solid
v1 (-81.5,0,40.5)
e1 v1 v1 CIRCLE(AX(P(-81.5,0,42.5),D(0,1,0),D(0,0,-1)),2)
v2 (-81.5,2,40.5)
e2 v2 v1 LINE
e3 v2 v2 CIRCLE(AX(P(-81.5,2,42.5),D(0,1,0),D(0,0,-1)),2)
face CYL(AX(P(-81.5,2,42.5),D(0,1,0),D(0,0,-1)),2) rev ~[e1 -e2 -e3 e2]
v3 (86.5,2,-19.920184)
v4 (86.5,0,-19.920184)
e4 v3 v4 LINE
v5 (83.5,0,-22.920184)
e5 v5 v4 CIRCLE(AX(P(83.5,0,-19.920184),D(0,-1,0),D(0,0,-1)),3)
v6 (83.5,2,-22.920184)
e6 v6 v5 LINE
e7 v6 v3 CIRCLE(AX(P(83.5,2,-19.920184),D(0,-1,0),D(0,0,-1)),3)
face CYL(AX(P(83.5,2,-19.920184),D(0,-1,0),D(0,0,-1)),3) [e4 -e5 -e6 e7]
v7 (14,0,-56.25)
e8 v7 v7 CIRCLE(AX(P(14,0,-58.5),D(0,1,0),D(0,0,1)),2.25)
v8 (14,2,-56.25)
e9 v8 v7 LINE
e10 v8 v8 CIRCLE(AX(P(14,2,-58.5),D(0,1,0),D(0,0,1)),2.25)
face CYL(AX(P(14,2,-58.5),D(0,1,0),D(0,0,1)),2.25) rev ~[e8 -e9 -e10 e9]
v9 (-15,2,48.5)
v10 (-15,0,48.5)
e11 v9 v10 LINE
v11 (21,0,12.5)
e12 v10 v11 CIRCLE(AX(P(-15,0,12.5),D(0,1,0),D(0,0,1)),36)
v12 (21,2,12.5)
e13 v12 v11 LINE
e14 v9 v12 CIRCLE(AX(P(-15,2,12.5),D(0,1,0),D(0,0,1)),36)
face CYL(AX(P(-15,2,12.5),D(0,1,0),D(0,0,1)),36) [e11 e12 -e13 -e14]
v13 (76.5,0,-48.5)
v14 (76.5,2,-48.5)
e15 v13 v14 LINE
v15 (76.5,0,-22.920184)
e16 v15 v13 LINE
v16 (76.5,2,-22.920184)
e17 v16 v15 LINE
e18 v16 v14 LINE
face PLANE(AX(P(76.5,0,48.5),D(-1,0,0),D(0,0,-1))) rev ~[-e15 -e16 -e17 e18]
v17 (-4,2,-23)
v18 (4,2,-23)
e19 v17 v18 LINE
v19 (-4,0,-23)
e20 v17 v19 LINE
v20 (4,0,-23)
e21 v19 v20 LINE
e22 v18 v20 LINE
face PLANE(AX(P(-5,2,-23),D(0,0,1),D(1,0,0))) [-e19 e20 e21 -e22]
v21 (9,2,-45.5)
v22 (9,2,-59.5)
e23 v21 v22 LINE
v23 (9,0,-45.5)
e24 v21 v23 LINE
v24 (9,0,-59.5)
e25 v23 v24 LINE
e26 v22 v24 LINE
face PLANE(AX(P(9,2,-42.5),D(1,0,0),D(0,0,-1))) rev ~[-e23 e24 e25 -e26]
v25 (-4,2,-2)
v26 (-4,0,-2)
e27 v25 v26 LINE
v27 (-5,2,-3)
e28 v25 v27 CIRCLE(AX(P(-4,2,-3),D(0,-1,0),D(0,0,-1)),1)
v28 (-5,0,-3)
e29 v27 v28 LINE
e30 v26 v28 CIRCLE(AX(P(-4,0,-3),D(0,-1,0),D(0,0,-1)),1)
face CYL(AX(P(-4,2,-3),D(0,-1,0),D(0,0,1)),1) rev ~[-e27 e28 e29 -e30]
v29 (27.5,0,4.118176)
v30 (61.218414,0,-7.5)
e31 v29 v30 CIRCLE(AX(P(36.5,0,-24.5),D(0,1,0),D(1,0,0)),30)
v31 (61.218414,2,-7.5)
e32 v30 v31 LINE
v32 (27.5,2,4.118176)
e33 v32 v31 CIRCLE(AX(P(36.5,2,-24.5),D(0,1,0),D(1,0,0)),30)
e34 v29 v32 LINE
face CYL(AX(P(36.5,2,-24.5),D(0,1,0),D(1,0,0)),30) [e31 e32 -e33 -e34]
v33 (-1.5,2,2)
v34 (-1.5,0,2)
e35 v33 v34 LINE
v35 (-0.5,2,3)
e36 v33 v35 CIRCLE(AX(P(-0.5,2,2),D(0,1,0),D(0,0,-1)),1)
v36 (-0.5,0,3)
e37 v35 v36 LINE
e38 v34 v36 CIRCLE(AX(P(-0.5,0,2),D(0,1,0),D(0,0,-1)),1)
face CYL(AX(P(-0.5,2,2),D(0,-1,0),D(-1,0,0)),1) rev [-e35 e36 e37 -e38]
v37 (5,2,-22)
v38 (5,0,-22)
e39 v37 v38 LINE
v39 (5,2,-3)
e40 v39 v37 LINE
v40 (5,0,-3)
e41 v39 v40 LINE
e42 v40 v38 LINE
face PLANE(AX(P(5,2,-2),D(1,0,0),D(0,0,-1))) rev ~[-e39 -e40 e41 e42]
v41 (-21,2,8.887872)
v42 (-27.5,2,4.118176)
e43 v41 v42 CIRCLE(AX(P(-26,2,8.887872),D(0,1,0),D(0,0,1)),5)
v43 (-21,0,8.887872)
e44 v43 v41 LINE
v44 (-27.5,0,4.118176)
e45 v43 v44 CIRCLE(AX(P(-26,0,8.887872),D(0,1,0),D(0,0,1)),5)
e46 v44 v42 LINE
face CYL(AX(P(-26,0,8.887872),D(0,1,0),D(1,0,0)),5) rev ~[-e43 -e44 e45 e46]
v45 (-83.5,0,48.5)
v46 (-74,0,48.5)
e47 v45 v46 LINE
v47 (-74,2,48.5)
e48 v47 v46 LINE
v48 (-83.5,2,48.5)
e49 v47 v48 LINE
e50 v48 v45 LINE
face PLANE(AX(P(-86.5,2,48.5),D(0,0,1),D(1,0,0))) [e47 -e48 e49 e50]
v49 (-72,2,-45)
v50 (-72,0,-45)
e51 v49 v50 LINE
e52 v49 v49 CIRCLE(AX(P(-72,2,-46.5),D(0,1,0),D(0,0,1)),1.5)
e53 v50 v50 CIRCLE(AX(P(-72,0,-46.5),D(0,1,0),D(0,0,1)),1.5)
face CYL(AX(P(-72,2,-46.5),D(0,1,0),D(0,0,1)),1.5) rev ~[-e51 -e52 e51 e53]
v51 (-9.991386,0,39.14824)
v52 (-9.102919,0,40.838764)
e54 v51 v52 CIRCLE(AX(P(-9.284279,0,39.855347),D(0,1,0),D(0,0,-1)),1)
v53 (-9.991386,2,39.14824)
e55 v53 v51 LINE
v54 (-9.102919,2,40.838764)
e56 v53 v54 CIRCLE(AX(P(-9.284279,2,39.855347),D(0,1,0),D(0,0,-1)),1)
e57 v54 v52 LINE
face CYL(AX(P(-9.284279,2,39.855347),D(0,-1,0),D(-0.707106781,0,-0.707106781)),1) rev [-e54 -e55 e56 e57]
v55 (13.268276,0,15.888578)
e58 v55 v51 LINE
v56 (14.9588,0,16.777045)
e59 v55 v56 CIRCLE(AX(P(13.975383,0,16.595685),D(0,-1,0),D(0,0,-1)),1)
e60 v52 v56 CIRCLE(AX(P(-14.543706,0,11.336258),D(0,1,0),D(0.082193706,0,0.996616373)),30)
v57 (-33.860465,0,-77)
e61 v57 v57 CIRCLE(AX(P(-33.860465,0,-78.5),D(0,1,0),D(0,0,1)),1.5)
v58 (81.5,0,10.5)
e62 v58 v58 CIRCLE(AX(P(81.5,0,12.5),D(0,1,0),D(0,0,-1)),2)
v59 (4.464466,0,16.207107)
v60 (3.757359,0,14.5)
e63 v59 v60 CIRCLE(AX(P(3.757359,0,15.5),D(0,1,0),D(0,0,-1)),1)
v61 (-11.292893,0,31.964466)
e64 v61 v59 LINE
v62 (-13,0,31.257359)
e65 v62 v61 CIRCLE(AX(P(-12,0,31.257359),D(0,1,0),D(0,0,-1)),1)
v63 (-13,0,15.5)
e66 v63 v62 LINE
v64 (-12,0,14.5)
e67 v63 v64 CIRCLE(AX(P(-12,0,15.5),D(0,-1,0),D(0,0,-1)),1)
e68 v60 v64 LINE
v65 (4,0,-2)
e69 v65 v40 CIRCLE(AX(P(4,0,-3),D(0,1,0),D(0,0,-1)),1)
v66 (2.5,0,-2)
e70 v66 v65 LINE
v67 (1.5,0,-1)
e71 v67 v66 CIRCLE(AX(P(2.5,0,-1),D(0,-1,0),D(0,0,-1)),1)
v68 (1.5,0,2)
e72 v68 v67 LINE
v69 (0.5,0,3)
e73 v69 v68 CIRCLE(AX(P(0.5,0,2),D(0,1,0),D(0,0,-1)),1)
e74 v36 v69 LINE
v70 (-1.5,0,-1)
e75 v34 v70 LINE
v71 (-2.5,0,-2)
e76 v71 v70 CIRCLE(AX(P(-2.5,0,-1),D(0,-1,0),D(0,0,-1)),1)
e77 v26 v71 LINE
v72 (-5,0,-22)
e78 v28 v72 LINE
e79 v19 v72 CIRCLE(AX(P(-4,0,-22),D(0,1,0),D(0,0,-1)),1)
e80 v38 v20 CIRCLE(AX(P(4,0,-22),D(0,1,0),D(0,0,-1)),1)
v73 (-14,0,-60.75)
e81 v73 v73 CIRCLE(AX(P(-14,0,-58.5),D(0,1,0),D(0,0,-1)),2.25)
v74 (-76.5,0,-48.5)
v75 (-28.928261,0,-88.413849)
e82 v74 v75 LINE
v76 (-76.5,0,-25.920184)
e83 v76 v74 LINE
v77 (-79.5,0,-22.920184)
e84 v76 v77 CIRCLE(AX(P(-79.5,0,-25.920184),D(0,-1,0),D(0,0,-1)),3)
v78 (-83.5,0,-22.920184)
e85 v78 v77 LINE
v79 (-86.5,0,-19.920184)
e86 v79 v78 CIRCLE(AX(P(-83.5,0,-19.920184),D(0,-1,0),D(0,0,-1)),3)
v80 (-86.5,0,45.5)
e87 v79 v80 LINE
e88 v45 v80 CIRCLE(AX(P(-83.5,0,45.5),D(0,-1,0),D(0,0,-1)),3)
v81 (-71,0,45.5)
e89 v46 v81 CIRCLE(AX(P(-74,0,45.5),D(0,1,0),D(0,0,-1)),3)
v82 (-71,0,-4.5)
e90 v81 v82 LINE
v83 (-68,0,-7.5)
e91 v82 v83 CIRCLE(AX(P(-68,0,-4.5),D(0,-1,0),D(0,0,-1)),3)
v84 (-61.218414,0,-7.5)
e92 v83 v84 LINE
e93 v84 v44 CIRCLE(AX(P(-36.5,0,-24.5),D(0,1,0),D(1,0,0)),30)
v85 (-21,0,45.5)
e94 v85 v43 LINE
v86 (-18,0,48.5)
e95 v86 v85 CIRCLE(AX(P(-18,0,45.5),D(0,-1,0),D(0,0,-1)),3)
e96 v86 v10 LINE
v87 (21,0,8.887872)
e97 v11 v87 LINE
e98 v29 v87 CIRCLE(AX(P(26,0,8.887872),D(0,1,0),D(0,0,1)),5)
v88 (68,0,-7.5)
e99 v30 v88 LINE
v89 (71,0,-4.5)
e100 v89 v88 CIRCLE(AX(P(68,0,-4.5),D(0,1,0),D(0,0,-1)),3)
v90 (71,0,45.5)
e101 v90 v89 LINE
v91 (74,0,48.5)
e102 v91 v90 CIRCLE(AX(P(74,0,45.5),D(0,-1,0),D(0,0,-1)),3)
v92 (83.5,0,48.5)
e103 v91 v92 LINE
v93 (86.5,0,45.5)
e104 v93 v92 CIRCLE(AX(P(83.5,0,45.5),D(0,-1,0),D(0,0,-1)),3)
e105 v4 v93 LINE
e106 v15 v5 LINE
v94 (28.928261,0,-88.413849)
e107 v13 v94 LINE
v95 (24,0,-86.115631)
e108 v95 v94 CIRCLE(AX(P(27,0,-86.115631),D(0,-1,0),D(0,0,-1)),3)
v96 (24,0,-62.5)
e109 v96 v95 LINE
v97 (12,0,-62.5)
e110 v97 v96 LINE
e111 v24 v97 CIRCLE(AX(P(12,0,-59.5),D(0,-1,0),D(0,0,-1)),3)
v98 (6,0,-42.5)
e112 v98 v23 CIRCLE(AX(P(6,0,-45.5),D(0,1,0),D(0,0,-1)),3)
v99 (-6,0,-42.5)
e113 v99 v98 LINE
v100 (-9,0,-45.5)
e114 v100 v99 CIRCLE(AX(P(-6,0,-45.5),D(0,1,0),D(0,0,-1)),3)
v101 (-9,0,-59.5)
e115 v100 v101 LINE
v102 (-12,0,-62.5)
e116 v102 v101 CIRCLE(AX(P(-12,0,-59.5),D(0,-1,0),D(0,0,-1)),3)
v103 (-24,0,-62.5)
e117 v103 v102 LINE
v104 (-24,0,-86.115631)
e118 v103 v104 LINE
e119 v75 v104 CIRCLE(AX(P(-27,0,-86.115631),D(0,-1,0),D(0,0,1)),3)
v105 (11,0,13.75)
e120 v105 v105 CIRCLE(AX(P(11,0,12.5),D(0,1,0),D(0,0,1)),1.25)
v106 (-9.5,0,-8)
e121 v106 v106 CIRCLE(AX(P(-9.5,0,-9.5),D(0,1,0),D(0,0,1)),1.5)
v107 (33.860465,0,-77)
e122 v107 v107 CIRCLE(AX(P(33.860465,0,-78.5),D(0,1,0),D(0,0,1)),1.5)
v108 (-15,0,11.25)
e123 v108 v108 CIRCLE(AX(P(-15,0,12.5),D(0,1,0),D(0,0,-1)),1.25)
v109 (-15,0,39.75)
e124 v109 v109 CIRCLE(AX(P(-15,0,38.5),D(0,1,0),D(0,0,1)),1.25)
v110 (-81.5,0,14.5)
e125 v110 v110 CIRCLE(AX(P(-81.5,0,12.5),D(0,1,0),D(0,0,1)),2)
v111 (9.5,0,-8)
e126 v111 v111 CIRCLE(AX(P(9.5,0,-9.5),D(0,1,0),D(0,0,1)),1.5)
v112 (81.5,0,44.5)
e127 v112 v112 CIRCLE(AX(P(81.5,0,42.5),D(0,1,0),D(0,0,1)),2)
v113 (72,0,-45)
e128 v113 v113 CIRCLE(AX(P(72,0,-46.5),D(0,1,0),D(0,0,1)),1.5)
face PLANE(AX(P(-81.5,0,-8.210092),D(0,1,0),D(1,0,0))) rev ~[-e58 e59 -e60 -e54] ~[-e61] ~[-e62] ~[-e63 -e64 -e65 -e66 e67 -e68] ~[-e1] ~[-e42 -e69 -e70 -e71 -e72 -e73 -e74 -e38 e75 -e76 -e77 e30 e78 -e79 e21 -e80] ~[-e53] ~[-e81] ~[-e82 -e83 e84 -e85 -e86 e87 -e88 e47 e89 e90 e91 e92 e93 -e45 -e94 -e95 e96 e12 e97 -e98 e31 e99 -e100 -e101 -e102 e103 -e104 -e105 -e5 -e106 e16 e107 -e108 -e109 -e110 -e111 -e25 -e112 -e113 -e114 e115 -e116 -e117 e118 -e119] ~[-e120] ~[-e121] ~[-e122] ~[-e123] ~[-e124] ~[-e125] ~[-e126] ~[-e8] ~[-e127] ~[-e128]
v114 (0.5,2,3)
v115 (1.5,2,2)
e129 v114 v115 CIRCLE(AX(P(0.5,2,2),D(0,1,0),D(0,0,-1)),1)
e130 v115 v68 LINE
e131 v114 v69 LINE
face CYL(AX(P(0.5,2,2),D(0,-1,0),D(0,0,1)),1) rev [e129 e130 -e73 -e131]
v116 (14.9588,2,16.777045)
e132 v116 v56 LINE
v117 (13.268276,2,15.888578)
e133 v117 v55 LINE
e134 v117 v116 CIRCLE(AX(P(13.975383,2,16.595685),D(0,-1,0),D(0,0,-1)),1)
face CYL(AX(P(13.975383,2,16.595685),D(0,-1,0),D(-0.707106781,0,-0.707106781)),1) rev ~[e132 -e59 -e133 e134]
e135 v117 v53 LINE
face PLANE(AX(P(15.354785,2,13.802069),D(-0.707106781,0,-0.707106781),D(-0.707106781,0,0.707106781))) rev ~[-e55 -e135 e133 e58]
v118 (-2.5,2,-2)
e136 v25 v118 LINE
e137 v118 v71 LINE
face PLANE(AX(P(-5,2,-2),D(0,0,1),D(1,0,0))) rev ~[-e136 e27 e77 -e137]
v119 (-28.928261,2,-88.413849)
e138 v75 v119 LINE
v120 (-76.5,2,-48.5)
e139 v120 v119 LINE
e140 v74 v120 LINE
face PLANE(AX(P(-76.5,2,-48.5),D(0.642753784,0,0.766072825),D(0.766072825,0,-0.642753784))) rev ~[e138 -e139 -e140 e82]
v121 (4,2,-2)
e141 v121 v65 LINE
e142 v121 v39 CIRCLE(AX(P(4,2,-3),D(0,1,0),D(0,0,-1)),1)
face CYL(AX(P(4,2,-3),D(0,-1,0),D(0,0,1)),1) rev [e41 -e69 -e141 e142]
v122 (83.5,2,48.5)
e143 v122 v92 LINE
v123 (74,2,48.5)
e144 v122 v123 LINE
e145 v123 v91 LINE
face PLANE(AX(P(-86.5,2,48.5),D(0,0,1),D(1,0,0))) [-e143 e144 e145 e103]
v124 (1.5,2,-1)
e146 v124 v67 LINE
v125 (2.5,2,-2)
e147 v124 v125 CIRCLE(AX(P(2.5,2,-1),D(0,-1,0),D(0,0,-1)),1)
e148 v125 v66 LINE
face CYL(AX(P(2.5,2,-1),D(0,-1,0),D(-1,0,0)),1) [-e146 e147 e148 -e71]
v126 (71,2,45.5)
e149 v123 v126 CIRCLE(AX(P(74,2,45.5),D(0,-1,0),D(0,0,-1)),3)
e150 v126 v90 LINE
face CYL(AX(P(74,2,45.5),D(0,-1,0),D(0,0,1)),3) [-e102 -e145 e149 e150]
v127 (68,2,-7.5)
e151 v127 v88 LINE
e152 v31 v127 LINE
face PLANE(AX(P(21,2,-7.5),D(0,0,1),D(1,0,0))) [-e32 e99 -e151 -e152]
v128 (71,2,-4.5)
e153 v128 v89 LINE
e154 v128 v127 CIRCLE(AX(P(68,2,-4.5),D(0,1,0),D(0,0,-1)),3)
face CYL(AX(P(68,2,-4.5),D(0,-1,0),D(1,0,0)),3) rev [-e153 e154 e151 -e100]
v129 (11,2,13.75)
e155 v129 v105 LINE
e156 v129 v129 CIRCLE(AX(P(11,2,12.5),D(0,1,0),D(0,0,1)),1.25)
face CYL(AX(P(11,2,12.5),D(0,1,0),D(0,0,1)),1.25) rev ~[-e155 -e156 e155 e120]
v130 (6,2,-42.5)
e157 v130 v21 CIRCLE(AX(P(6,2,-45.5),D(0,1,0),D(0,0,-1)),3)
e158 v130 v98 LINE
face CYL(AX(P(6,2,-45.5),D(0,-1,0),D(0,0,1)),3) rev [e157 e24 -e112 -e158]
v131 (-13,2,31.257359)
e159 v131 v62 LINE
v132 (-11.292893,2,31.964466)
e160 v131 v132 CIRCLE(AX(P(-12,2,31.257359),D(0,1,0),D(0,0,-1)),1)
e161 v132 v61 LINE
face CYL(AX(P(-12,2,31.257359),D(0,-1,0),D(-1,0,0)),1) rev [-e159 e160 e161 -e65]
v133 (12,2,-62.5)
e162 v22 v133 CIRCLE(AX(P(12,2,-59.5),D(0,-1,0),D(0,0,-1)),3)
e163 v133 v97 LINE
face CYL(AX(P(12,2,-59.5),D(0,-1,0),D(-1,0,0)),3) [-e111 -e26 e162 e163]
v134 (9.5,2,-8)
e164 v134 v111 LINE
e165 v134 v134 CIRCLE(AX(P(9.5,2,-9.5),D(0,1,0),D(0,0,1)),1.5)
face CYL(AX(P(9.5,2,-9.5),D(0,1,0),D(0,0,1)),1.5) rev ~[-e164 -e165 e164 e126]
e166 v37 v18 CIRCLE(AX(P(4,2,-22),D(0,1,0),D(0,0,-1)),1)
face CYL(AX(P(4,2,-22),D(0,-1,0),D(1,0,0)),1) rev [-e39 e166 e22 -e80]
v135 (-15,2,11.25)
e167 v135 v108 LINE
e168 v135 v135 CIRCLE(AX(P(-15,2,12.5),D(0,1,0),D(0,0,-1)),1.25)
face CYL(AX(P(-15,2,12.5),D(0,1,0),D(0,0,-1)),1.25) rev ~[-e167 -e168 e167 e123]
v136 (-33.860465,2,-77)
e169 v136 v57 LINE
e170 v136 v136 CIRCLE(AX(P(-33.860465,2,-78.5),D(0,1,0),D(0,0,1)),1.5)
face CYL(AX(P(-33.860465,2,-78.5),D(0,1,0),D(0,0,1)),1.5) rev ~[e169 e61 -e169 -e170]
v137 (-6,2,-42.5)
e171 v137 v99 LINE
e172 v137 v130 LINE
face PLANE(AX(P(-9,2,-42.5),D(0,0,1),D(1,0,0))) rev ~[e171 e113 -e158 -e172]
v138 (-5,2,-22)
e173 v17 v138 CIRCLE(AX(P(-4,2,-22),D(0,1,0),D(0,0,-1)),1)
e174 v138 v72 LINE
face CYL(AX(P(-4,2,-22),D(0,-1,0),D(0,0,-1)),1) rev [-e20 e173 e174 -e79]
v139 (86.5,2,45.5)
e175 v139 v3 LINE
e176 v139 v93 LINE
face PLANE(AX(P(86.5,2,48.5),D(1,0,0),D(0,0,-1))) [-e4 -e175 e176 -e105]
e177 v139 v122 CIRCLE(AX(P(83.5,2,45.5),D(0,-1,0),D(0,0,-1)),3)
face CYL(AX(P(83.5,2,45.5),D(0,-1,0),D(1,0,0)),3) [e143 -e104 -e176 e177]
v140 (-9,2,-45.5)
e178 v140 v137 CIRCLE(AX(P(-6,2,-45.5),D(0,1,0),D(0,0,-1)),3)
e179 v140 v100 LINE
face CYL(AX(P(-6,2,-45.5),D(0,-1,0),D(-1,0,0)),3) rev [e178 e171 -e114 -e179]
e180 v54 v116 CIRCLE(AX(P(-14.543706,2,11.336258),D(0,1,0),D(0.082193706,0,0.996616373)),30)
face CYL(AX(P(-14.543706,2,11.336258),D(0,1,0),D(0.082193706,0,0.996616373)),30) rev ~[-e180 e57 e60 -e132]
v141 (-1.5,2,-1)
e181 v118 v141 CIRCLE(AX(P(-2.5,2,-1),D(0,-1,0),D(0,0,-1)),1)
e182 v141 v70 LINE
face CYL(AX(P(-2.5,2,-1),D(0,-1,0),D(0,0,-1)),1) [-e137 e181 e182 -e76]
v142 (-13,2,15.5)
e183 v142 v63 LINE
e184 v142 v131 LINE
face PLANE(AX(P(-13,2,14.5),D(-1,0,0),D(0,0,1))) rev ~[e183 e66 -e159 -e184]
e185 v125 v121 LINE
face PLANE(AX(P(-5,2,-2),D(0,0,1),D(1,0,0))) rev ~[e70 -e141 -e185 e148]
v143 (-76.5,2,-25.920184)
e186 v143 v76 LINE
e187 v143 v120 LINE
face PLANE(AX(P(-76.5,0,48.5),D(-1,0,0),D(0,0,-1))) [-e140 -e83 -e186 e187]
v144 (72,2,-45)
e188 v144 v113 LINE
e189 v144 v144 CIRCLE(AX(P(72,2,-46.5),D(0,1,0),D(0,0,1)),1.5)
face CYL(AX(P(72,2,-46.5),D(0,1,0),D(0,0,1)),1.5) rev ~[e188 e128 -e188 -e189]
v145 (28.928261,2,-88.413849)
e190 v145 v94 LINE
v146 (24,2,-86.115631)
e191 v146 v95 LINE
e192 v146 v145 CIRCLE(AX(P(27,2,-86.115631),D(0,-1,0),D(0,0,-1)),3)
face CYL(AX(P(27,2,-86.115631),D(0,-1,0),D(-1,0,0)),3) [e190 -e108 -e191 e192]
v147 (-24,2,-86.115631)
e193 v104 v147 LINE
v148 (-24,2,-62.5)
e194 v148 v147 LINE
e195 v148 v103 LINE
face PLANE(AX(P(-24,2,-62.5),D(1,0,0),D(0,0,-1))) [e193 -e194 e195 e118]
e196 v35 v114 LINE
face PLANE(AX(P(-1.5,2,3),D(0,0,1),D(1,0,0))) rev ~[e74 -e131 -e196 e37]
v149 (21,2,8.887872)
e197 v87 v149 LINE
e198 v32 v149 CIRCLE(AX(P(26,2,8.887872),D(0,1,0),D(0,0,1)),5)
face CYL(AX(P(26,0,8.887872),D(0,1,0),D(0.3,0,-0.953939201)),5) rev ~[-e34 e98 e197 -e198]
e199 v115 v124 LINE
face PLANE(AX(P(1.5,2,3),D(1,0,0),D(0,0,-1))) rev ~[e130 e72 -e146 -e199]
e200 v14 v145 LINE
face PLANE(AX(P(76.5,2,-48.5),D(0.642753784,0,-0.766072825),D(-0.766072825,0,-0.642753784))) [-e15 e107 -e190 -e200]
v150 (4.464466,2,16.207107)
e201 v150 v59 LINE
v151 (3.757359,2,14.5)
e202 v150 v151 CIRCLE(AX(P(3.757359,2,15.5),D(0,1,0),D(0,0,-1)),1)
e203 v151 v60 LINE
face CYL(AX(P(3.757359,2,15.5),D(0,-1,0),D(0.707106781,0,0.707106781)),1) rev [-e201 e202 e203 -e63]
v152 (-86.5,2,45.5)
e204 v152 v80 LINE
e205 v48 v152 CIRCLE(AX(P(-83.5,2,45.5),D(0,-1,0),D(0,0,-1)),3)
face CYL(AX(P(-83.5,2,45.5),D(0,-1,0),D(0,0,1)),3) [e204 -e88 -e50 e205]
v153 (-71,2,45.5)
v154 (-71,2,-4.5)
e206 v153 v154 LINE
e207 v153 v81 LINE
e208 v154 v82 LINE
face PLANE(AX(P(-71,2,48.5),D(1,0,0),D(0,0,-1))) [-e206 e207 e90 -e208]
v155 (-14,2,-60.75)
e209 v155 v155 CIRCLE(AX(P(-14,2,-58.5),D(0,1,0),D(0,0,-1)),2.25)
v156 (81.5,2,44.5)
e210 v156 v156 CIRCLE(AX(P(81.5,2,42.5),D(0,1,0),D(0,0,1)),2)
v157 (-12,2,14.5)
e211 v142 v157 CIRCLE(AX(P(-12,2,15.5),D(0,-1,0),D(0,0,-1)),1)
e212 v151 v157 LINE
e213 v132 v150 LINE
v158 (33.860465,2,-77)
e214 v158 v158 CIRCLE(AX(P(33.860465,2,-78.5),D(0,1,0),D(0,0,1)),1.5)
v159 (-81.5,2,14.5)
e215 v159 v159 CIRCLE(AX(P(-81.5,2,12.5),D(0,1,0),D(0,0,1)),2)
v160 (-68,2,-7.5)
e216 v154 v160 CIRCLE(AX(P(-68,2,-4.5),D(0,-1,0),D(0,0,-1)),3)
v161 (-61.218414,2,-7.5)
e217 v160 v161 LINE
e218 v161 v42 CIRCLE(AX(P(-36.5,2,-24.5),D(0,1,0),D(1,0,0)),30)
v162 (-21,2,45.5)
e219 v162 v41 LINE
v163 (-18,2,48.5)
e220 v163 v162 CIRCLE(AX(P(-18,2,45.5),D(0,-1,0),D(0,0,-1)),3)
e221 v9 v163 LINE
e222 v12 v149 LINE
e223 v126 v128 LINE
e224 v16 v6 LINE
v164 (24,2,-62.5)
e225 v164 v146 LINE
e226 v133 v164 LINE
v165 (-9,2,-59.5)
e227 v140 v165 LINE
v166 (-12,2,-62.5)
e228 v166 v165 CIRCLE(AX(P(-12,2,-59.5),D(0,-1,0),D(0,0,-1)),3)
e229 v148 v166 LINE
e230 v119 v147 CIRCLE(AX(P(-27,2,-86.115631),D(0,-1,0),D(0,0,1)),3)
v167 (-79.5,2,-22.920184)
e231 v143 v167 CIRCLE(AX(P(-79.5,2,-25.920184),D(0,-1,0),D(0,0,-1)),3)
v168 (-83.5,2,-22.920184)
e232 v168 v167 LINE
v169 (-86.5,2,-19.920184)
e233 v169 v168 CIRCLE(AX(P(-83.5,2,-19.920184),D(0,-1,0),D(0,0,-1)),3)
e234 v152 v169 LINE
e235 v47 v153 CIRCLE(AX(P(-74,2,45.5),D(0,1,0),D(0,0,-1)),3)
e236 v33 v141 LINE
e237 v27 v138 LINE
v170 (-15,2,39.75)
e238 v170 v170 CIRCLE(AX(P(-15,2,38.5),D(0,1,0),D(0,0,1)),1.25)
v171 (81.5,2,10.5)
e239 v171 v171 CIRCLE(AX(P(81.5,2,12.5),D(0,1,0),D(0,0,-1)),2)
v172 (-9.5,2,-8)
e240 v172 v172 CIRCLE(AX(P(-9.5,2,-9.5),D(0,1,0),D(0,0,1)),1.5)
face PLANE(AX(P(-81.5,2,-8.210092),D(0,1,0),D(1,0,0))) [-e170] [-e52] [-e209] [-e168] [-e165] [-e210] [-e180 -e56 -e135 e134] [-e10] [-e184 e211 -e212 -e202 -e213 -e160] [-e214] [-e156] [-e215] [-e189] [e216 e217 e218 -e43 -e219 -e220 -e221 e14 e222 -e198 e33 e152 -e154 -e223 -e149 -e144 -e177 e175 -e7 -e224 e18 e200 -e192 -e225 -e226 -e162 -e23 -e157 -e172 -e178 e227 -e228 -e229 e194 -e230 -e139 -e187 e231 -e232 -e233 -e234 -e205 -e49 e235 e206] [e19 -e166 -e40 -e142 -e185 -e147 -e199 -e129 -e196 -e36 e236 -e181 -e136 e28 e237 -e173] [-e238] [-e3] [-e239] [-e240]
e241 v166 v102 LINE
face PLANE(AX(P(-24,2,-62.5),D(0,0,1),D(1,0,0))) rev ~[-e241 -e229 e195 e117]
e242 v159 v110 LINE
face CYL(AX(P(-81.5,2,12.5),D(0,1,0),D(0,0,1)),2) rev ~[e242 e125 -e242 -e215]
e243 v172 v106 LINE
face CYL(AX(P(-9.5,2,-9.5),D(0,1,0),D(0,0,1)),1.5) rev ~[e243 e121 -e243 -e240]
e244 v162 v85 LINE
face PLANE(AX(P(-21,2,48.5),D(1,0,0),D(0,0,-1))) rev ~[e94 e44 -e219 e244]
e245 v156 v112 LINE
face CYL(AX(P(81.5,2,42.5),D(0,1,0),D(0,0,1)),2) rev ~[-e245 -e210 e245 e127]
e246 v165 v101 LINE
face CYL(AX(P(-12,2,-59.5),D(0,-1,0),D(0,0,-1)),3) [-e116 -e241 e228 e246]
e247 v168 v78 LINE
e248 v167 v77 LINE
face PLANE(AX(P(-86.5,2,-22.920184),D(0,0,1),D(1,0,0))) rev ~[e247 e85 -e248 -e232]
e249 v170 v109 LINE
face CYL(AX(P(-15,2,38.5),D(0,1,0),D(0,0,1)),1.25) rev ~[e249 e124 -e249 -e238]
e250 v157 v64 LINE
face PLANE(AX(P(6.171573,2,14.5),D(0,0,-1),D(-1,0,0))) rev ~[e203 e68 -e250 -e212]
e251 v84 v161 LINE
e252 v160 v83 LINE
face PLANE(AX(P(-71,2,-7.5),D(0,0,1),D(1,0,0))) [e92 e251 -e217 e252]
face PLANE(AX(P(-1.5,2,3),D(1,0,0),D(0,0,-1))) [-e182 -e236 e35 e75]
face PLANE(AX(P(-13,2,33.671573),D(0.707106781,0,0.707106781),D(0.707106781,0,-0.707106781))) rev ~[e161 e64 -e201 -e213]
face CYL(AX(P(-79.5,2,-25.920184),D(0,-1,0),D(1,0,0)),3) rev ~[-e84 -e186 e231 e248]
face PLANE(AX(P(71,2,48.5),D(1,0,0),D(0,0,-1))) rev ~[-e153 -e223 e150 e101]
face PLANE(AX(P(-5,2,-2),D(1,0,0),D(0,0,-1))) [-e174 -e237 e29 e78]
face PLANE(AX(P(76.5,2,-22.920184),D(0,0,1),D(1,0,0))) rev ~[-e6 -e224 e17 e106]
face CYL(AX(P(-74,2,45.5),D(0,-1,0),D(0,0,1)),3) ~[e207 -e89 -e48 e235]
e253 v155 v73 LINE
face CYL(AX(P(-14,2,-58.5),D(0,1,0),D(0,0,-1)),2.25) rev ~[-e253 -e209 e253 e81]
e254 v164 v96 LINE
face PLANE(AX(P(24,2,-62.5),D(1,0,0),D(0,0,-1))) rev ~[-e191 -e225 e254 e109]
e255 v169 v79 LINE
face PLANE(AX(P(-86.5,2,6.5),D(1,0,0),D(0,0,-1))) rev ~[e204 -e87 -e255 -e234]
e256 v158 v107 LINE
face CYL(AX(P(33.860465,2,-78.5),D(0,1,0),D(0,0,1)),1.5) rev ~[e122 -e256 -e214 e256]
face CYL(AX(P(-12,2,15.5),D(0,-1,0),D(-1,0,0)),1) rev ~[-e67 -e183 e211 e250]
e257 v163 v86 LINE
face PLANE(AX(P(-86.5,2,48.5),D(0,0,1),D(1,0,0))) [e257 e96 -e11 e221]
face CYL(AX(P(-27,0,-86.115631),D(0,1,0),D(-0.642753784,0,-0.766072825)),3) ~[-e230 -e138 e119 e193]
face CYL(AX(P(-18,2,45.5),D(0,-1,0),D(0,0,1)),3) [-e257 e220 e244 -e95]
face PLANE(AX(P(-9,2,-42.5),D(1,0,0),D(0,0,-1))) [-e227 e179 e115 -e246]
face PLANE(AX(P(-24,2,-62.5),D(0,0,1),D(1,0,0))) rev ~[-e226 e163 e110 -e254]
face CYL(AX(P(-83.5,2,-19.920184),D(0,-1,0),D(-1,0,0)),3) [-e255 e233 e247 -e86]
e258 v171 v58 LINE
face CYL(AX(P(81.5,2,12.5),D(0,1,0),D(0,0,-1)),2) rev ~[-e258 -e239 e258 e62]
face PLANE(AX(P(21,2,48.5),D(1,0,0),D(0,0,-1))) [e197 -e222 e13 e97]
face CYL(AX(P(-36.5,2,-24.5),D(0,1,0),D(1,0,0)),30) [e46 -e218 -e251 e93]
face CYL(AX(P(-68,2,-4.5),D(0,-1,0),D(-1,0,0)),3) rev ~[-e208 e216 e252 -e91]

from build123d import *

# Parameters (mm, degrees)
SKETCH_1_W           = 153
SKETCH_1_H           = 97
EXTRUDE_1_DEPTH      = 2
SKETCH_2_W           = 30
SKETCH_2_H           = 56
EXTRUDE_2_DEPTH      = 2
EXTRUDE_3_DEPTH      = 2
SKETCH_4_W           = 10
SKETCH_4_H           = 42
SKETCH_4_R           = 2
EXTRUDE_4_DEPTH      = 2
SKETCH_6_R           = 2.25
CUT_EXTRUDE_1_DEPTH  = 2
SKETCH_7_W           = 50
SKETCH_7_H           = 56
CUT_EXTRUDE_2_DEPTH  = 2
SKETCH_8_W           = 48
SKETCH_8_H           = 62.484205033
CUT_EXTRUDE_3_DEPTH  = 2
FILLET_3_R           = 3
SKETCH_9_W           = 10
SKETCH_9_H           = 29.42018392
EXTRUDE_5_DEPTH      = 2
FILLET_4_R           = 3
SKETCH_10_W          = 18
SKETCH_10_H          = 20
CUT_EXTRUDE_4_DEPTH  = 2
FILLET_5_R           = 3
SKETCH_11_R          = 30
EXTRUDE_6_DEPTH      = 2
FILLET_6_R           = 3
SKETCH_12_R          = 1.25
CUT_EXTRUDE_5_DEPTH  = 2
SKETCH_13_R          = 1.5
CUT_EXTRUDE_6_DEPTH  = 10
SKETCH_14_R          = 1.5
CUT_EXTRUDE_7_DEPTH  = 10
CUT_EXTRUDE_8_DEPTH  = 10
FILLET_7_R           = 5
SKETCH_16_R          = 1.5
CUT_EXTRUDE_9_DEPTH  = 10
SKETCH_17_W          = 10
SKETCH_17_H          = 21
CUT_EXTRUDE_10_DEPTH = 10
FILLET_8_R           = 1
SKETCH_18_W          = 3
SKETCH_18_H          = 5
CUT_EXTRUDE_11_DEPTH = 10
FILLET_9_R           = 1
CUT_EXTRUDE_12_DEPTH = 2
FILLET_10_R          = 1
CUT_EXTRUDE_13_DEPTH = 2
FILLET_11_R          = 1


with BuildPart() as part:
    # 草图1 → 凸台-拉伸1 (new body)
    with BuildSketch(Plane(origin=(0, 0, 0), x_dir=(1, 0, 0), z_dir=(0, 1, 0))):
        Rectangle(SKETCH_1_W, SKETCH_1_H)
    extrude(amount=EXTRUDE_1_DEPTH)

    # 草图2 → 凸台-拉伸2 (add)
    with BuildSketch(Plane(origin=(0, 0, 0), x_dir=(1, 0, 0), z_dir=(0, 1, 0))):
        with Locations((0, 76.5)):
            Rectangle(SKETCH_2_W, SKETCH_2_H)
    extrude(amount=EXTRUDE_2_DEPTH)

    # 草图3 → 凸台-拉伸3 (add)
    with BuildSketch(Plane(origin=(0, 2, 0), x_dir=(1, 0, 0), z_dir=(0, 1, 0))):
        Polygon((-76.5, 48.5), (-15, 100.1), (-15, 48.5), align=None)
        Polygon((15, 100.1), (15, 48.5), (76.5, 48.5), align=None)
    extrude(amount=-EXTRUDE_3_DEPTH)

    # 草图4 → 凸台-拉伸4 (add)
    # profile 1 of 2: a face of its own
    with BuildSketch(Plane(origin=(0, 2, 0), x_dir=(1, 0, 0), z_dir=(0, 1, 0))):
        with Locations((-81.5, -27.5)):
            Rectangle(SKETCH_4_W, SKETCH_4_H)
        with Locations(Location((-81.5, -12.5, 0), (0, 0, 270))):
            Circle(SKETCH_4_R, mode=Mode.SUBTRACT)
        with Locations(Location((-81.5, -42.5, 0), (0, 0, 90))):
            Circle(SKETCH_4_R, mode=Mode.SUBTRACT)
    # profile 2 of 2: a face of its own
    with BuildSketch(Plane(origin=(0, 2, 0), x_dir=(1, 0, 0), z_dir=(0, 1, 0))):
        with Locations((81.5, -27.5)):
            Rectangle(SKETCH_4_W, SKETCH_4_H)
        with Locations(Location((81.5, -42.5, 0), (0, 0, 270))):
            Circle(SKETCH_4_R, mode=Mode.SUBTRACT)
        with Locations(Location((81.5, -12.5, 0), (0, 0, 90))):
            Circle(SKETCH_4_R, mode=Mode.SUBTRACT)
    extrude(amount=-EXTRUDE_4_DEPTH)

    # 草图6 → 切除-拉伸1 (cut)
    with BuildSketch(Plane(origin=(0, 2, 0), x_dir=(1, 0, 0), z_dir=(0, 1, 0))):
        with Locations(Location((14, 58.5, 0), (0, 0, 270))):
            Circle(SKETCH_6_R)
        with Locations(Location((-14, 58.5, 0), (0, 0, 90))):
            Circle(SKETCH_6_R)
    extrude(amount=-CUT_EXTRUDE_1_DEPTH, mode=Mode.SUBTRACT)

    # 草图7 → 切除-拉伸2 (cut)
    with BuildSketch(Plane(origin=(0, 2, 0), x_dir=(1, 0, 0), z_dir=(0, 1, 0))):
        with Locations((-46, -20.5)):
            Rectangle(SKETCH_7_W, SKETCH_7_H)
        with Locations((46, -20.5)):
            Rectangle(SKETCH_7_W, SKETCH_7_H)
    extrude(amount=-CUT_EXTRUDE_2_DEPTH, mode=Mode.SUBTRACT)

    # 草图8 → 切除-拉伸3 (cut)
    with BuildSketch(Plane(origin=(0, 2, 0), x_dir=(1, 0, 0), z_dir=(0, 1, 0))):
        with Locations((0, 93.742102517)):
            Rectangle(SKETCH_8_W, SKETCH_8_H)
    extrude(amount=-CUT_EXTRUDE_3_DEPTH, mode=Mode.SUBTRACT)

    # 圆角3
    fillet_3_edges = [part.edges().sort_by_distance(p)[0] for p in [
        (-21, 1, -7.5),
        (-21, 1, 48.5),
        (-71, 1, 48.5),
        (-71, 1, -7.5),
        (21, 1, -7.5),
        (71, 1, -7.5),
        (71, 1, 48.5),
        (21, 1, 48.5),
    ]]
    fillet(fillet_3_edges, radius=FILLET_3_R)

    # 草图9 → 凸台-拉伸5 (add)
    with BuildSketch(Plane(origin=(0, 2, 0), x_dir=(1, 0, 0), z_dir=(0, 1, 0))):
        with Locations((-81.5, 8.21009196)):
            Rectangle(SKETCH_9_W, SKETCH_9_H)
        with Locations((81.5, 8.21009196)):
            Rectangle(SKETCH_9_W, SKETCH_9_H)
    extrude(amount=-EXTRUDE_5_DEPTH)

    # 圆角4
    fillet_4_edges = [part.edges().sort_by_distance(p)[0] for p in [
        (-86.5, 1, -22.92018392),
        (-76.5, 1, -22.92018392),
    ]]
    fillet(fillet_4_edges, radius=FILLET_4_R)

    # 草图10 → 切除-拉伸4 (cut)
    with BuildSketch(Plane(origin=(0, 2, 0), x_dir=(1, 0, 0), z_dir=(0, 1, 0))):
        with Locations((0, 52.5)):
            Rectangle(SKETCH_10_W, SKETCH_10_H)
    extrude(amount=-CUT_EXTRUDE_4_DEPTH, mode=Mode.SUBTRACT)

    # 圆角5
    fillet_5_edges = [part.edges().sort_by_distance(p)[0] for p in [
        (24, 1, -92.548780488),
        (-24, 1, -92.548780488),
        (9, 1, -62.5),
        (9, 1, -42.5),
        (-9, 1, -42.5),
        (-9, 1, -62.5),
    ]]
    fillet(fillet_5_edges, radius=FILLET_5_R)

    # 草图11 → 凸台-拉伸6 (add)
    with BuildSketch(Plane(origin=(0, 2, 0), x_dir=(1, 0, 0), z_dir=(0, 1, 0))):
        with Locations((-36.5, 24.5)):
            Circle(SKETCH_11_R)
        with Locations((36.5, 24.5)):
            Circle(SKETCH_11_R)
    extrude(amount=-EXTRUDE_6_DEPTH)

    # 圆角6
    fillet_6_edges = [part.edges().sort_by_distance(p)[0] for p in [
        (86.5, 1, -22.92018392),
        (-86.5, 1, 48.5),
        (86.5, 1, 48.5),
    ]]
    fillet(fillet_6_edges, radius=FILLET_6_R)

    # 草图12 → 切除-拉伸5 (cut)
    with BuildSketch(Plane(origin=(0, 2, 0), x_dir=(1, 0, 0), z_dir=(0, 1, 0))):
        with Locations(Location((11, -12.5, 0), (0, 0, 270))):
            Circle(SKETCH_12_R)
        with Locations(Location((-15, -12.5, 0), (0, 0, 90))):
            Circle(SKETCH_12_R)
        with Locations(Location((-15, -38.5, 0), (0, 0, 270))):
            Circle(SKETCH_12_R)
    extrude(amount=-CUT_EXTRUDE_5_DEPTH, mode=Mode.SUBTRACT)

    # 草图13 → 切除-拉伸6 (cut)
    with BuildSketch(Plane(origin=(0, 2, 0), x_dir=(1, 0, 0), z_dir=(0, 1, 0))):
        with Locations(Location((-72, 46.5, 0), (0, 0, 270))):
            Circle(SKETCH_13_R)
        with Locations(Location((72, 46.5, 0), (0, 0, 270))):
            Circle(SKETCH_13_R)
    extrude(amount=-CUT_EXTRUDE_6_DEPTH, mode=Mode.SUBTRACT)

    # 草图14 → 切除-拉伸7 (cut)
    with BuildSketch(Plane(origin=(0, 2, 0), x_dir=(1, 0, 0), z_dir=(0, 1, 0))):
        with Locations(Location((-33.860465116, 78.5, 0), (0, 0, 270))):
            Circle(SKETCH_14_R)
        with Locations(Location((33.860465116, 78.5, 0), (0, 0, 270))):
            Circle(SKETCH_14_R)
    extrude(amount=-CUT_EXTRUDE_7_DEPTH, mode=Mode.SUBTRACT)

    # 草图15 → 切除-拉伸8 (cut)
    with BuildSketch(Plane(origin=(0, 2, 0), x_dir=(1, 0, 0), z_dir=(0, 1, 0))):
        with BuildLine():
            Line((21, -12.5), (21, -48.5))
            Line((21, -48.5), (-15, -48.5))
            ThreePointArc((-15, -48.5), (10.455844123, -37.955844123), (21, -12.5))
        make_face()
    extrude(amount=-CUT_EXTRUDE_8_DEPTH, mode=Mode.SUBTRACT)

    # 圆角7
    fillet_7_edges = [part.edges().sort_by_distance(p)[0] for p in [
        (-21, 1, 1.185599078),
        (21, 1, 1.185599078),
    ]]
    fillet(fillet_7_edges, radius=FILLET_7_R)

    # 草图16 → 切除-拉伸9 (cut)
    with BuildSketch(Plane(origin=(0, 2, 0), x_dir=(1, 0, 0), z_dir=(0, 1, 0))):
        with Locations(Location((9.5, 9.5, 0), (0, 0, 270))):
            Circle(SKETCH_16_R)
        with Locations(Location((-9.5, 9.5, 0), (0, 0, 270))):
            Circle(SKETCH_16_R)
    extrude(amount=-CUT_EXTRUDE_9_DEPTH, mode=Mode.SUBTRACT)

    # 草图17 → 切除-拉伸10 (cut)
    with BuildSketch(Plane(origin=(0, 2, 0), x_dir=(1, 0, 0), z_dir=(0, 1, 0))):
        with Locations((0, 12.5)):
            Rectangle(SKETCH_17_W, SKETCH_17_H)
    extrude(amount=-CUT_EXTRUDE_10_DEPTH, mode=Mode.SUBTRACT)

    # 圆角8
    fillet_8_edges = [part.edges().sort_by_distance(p)[0] for p in [
        (5, 1, -23),
        (5, 1, -2),
        (-5, 1, -2),
        (-5, 1, -23),
    ]]
    fillet(fillet_8_edges, radius=FILLET_8_R)

    # 草图18 → 切除-拉伸11 (cut)
    with BuildSketch(Plane(origin=(0, 2, 0), x_dir=(1, 0, 0), z_dir=(0, 1, 0))):
        with Locations((0, -0.5)):
            Rectangle(SKETCH_18_W, SKETCH_18_H)
    extrude(amount=-CUT_EXTRUDE_11_DEPTH, mode=Mode.SUBTRACT)

    # 圆角9
    fillet_9_edges = [part.edges().sort_by_distance(p)[0] for p in [
        (-1.5, 1, -2),
        (1.5, 1, -2),
        (1.5, 1, 3),
        (-1.5, 1, 3),
    ]]
    fillet(fillet_9_edges, radius=FILLET_9_R)

    # 草图19 → 切除-拉伸12 (cut)
    with BuildSketch(Plane(origin=(0, 2, 0), x_dir=(1, 0, 0), z_dir=(0, 1, 0))):
        Polygon((-13, -14.5), (-13, -33.671572875), (6.171572875, -14.5), align=None)
    extrude(amount=-CUT_EXTRUDE_12_DEPTH, mode=Mode.SUBTRACT)

    # 圆角10
    fillet_10_edges = [part.edges().sort_by_distance(p)[0] for p in [
        (-13, 1, 14.5),
        (6.171572875, 1, 14.5),
        (-13, 1, 33.671572875),
    ]]
    fillet(fillet_10_edges, radius=FILLET_10_R)

    # 草图21 → 切除-拉伸13 (cut)
    with BuildSketch(Plane(origin=(0, 2, 0), x_dir=(1, 0, 0), z_dir=(0, 1, 0))):
        with BuildLine():
            Line((15.354785216, -13.802069033), (-12.077894802, -41.234749051))
            ThreePointArc((-12.077894802, -41.234749051), (6.669497464, -32.549461299), (15.354785216, -13.802069033))
        make_face()
    extrude(amount=-CUT_EXTRUDE_13_DEPTH, mode=Mode.SUBTRACT)

    # 圆角11
    fillet_11_edges = [part.edges().sort_by_distance(p)[0] for p in [
        (15.354785216, 1, 13.802069033),
        (-12.077894802, 1, 41.234749051),
    ]]
    fillet(fillet_11_edges, radius=FILLET_11_R)


solid = part.part
